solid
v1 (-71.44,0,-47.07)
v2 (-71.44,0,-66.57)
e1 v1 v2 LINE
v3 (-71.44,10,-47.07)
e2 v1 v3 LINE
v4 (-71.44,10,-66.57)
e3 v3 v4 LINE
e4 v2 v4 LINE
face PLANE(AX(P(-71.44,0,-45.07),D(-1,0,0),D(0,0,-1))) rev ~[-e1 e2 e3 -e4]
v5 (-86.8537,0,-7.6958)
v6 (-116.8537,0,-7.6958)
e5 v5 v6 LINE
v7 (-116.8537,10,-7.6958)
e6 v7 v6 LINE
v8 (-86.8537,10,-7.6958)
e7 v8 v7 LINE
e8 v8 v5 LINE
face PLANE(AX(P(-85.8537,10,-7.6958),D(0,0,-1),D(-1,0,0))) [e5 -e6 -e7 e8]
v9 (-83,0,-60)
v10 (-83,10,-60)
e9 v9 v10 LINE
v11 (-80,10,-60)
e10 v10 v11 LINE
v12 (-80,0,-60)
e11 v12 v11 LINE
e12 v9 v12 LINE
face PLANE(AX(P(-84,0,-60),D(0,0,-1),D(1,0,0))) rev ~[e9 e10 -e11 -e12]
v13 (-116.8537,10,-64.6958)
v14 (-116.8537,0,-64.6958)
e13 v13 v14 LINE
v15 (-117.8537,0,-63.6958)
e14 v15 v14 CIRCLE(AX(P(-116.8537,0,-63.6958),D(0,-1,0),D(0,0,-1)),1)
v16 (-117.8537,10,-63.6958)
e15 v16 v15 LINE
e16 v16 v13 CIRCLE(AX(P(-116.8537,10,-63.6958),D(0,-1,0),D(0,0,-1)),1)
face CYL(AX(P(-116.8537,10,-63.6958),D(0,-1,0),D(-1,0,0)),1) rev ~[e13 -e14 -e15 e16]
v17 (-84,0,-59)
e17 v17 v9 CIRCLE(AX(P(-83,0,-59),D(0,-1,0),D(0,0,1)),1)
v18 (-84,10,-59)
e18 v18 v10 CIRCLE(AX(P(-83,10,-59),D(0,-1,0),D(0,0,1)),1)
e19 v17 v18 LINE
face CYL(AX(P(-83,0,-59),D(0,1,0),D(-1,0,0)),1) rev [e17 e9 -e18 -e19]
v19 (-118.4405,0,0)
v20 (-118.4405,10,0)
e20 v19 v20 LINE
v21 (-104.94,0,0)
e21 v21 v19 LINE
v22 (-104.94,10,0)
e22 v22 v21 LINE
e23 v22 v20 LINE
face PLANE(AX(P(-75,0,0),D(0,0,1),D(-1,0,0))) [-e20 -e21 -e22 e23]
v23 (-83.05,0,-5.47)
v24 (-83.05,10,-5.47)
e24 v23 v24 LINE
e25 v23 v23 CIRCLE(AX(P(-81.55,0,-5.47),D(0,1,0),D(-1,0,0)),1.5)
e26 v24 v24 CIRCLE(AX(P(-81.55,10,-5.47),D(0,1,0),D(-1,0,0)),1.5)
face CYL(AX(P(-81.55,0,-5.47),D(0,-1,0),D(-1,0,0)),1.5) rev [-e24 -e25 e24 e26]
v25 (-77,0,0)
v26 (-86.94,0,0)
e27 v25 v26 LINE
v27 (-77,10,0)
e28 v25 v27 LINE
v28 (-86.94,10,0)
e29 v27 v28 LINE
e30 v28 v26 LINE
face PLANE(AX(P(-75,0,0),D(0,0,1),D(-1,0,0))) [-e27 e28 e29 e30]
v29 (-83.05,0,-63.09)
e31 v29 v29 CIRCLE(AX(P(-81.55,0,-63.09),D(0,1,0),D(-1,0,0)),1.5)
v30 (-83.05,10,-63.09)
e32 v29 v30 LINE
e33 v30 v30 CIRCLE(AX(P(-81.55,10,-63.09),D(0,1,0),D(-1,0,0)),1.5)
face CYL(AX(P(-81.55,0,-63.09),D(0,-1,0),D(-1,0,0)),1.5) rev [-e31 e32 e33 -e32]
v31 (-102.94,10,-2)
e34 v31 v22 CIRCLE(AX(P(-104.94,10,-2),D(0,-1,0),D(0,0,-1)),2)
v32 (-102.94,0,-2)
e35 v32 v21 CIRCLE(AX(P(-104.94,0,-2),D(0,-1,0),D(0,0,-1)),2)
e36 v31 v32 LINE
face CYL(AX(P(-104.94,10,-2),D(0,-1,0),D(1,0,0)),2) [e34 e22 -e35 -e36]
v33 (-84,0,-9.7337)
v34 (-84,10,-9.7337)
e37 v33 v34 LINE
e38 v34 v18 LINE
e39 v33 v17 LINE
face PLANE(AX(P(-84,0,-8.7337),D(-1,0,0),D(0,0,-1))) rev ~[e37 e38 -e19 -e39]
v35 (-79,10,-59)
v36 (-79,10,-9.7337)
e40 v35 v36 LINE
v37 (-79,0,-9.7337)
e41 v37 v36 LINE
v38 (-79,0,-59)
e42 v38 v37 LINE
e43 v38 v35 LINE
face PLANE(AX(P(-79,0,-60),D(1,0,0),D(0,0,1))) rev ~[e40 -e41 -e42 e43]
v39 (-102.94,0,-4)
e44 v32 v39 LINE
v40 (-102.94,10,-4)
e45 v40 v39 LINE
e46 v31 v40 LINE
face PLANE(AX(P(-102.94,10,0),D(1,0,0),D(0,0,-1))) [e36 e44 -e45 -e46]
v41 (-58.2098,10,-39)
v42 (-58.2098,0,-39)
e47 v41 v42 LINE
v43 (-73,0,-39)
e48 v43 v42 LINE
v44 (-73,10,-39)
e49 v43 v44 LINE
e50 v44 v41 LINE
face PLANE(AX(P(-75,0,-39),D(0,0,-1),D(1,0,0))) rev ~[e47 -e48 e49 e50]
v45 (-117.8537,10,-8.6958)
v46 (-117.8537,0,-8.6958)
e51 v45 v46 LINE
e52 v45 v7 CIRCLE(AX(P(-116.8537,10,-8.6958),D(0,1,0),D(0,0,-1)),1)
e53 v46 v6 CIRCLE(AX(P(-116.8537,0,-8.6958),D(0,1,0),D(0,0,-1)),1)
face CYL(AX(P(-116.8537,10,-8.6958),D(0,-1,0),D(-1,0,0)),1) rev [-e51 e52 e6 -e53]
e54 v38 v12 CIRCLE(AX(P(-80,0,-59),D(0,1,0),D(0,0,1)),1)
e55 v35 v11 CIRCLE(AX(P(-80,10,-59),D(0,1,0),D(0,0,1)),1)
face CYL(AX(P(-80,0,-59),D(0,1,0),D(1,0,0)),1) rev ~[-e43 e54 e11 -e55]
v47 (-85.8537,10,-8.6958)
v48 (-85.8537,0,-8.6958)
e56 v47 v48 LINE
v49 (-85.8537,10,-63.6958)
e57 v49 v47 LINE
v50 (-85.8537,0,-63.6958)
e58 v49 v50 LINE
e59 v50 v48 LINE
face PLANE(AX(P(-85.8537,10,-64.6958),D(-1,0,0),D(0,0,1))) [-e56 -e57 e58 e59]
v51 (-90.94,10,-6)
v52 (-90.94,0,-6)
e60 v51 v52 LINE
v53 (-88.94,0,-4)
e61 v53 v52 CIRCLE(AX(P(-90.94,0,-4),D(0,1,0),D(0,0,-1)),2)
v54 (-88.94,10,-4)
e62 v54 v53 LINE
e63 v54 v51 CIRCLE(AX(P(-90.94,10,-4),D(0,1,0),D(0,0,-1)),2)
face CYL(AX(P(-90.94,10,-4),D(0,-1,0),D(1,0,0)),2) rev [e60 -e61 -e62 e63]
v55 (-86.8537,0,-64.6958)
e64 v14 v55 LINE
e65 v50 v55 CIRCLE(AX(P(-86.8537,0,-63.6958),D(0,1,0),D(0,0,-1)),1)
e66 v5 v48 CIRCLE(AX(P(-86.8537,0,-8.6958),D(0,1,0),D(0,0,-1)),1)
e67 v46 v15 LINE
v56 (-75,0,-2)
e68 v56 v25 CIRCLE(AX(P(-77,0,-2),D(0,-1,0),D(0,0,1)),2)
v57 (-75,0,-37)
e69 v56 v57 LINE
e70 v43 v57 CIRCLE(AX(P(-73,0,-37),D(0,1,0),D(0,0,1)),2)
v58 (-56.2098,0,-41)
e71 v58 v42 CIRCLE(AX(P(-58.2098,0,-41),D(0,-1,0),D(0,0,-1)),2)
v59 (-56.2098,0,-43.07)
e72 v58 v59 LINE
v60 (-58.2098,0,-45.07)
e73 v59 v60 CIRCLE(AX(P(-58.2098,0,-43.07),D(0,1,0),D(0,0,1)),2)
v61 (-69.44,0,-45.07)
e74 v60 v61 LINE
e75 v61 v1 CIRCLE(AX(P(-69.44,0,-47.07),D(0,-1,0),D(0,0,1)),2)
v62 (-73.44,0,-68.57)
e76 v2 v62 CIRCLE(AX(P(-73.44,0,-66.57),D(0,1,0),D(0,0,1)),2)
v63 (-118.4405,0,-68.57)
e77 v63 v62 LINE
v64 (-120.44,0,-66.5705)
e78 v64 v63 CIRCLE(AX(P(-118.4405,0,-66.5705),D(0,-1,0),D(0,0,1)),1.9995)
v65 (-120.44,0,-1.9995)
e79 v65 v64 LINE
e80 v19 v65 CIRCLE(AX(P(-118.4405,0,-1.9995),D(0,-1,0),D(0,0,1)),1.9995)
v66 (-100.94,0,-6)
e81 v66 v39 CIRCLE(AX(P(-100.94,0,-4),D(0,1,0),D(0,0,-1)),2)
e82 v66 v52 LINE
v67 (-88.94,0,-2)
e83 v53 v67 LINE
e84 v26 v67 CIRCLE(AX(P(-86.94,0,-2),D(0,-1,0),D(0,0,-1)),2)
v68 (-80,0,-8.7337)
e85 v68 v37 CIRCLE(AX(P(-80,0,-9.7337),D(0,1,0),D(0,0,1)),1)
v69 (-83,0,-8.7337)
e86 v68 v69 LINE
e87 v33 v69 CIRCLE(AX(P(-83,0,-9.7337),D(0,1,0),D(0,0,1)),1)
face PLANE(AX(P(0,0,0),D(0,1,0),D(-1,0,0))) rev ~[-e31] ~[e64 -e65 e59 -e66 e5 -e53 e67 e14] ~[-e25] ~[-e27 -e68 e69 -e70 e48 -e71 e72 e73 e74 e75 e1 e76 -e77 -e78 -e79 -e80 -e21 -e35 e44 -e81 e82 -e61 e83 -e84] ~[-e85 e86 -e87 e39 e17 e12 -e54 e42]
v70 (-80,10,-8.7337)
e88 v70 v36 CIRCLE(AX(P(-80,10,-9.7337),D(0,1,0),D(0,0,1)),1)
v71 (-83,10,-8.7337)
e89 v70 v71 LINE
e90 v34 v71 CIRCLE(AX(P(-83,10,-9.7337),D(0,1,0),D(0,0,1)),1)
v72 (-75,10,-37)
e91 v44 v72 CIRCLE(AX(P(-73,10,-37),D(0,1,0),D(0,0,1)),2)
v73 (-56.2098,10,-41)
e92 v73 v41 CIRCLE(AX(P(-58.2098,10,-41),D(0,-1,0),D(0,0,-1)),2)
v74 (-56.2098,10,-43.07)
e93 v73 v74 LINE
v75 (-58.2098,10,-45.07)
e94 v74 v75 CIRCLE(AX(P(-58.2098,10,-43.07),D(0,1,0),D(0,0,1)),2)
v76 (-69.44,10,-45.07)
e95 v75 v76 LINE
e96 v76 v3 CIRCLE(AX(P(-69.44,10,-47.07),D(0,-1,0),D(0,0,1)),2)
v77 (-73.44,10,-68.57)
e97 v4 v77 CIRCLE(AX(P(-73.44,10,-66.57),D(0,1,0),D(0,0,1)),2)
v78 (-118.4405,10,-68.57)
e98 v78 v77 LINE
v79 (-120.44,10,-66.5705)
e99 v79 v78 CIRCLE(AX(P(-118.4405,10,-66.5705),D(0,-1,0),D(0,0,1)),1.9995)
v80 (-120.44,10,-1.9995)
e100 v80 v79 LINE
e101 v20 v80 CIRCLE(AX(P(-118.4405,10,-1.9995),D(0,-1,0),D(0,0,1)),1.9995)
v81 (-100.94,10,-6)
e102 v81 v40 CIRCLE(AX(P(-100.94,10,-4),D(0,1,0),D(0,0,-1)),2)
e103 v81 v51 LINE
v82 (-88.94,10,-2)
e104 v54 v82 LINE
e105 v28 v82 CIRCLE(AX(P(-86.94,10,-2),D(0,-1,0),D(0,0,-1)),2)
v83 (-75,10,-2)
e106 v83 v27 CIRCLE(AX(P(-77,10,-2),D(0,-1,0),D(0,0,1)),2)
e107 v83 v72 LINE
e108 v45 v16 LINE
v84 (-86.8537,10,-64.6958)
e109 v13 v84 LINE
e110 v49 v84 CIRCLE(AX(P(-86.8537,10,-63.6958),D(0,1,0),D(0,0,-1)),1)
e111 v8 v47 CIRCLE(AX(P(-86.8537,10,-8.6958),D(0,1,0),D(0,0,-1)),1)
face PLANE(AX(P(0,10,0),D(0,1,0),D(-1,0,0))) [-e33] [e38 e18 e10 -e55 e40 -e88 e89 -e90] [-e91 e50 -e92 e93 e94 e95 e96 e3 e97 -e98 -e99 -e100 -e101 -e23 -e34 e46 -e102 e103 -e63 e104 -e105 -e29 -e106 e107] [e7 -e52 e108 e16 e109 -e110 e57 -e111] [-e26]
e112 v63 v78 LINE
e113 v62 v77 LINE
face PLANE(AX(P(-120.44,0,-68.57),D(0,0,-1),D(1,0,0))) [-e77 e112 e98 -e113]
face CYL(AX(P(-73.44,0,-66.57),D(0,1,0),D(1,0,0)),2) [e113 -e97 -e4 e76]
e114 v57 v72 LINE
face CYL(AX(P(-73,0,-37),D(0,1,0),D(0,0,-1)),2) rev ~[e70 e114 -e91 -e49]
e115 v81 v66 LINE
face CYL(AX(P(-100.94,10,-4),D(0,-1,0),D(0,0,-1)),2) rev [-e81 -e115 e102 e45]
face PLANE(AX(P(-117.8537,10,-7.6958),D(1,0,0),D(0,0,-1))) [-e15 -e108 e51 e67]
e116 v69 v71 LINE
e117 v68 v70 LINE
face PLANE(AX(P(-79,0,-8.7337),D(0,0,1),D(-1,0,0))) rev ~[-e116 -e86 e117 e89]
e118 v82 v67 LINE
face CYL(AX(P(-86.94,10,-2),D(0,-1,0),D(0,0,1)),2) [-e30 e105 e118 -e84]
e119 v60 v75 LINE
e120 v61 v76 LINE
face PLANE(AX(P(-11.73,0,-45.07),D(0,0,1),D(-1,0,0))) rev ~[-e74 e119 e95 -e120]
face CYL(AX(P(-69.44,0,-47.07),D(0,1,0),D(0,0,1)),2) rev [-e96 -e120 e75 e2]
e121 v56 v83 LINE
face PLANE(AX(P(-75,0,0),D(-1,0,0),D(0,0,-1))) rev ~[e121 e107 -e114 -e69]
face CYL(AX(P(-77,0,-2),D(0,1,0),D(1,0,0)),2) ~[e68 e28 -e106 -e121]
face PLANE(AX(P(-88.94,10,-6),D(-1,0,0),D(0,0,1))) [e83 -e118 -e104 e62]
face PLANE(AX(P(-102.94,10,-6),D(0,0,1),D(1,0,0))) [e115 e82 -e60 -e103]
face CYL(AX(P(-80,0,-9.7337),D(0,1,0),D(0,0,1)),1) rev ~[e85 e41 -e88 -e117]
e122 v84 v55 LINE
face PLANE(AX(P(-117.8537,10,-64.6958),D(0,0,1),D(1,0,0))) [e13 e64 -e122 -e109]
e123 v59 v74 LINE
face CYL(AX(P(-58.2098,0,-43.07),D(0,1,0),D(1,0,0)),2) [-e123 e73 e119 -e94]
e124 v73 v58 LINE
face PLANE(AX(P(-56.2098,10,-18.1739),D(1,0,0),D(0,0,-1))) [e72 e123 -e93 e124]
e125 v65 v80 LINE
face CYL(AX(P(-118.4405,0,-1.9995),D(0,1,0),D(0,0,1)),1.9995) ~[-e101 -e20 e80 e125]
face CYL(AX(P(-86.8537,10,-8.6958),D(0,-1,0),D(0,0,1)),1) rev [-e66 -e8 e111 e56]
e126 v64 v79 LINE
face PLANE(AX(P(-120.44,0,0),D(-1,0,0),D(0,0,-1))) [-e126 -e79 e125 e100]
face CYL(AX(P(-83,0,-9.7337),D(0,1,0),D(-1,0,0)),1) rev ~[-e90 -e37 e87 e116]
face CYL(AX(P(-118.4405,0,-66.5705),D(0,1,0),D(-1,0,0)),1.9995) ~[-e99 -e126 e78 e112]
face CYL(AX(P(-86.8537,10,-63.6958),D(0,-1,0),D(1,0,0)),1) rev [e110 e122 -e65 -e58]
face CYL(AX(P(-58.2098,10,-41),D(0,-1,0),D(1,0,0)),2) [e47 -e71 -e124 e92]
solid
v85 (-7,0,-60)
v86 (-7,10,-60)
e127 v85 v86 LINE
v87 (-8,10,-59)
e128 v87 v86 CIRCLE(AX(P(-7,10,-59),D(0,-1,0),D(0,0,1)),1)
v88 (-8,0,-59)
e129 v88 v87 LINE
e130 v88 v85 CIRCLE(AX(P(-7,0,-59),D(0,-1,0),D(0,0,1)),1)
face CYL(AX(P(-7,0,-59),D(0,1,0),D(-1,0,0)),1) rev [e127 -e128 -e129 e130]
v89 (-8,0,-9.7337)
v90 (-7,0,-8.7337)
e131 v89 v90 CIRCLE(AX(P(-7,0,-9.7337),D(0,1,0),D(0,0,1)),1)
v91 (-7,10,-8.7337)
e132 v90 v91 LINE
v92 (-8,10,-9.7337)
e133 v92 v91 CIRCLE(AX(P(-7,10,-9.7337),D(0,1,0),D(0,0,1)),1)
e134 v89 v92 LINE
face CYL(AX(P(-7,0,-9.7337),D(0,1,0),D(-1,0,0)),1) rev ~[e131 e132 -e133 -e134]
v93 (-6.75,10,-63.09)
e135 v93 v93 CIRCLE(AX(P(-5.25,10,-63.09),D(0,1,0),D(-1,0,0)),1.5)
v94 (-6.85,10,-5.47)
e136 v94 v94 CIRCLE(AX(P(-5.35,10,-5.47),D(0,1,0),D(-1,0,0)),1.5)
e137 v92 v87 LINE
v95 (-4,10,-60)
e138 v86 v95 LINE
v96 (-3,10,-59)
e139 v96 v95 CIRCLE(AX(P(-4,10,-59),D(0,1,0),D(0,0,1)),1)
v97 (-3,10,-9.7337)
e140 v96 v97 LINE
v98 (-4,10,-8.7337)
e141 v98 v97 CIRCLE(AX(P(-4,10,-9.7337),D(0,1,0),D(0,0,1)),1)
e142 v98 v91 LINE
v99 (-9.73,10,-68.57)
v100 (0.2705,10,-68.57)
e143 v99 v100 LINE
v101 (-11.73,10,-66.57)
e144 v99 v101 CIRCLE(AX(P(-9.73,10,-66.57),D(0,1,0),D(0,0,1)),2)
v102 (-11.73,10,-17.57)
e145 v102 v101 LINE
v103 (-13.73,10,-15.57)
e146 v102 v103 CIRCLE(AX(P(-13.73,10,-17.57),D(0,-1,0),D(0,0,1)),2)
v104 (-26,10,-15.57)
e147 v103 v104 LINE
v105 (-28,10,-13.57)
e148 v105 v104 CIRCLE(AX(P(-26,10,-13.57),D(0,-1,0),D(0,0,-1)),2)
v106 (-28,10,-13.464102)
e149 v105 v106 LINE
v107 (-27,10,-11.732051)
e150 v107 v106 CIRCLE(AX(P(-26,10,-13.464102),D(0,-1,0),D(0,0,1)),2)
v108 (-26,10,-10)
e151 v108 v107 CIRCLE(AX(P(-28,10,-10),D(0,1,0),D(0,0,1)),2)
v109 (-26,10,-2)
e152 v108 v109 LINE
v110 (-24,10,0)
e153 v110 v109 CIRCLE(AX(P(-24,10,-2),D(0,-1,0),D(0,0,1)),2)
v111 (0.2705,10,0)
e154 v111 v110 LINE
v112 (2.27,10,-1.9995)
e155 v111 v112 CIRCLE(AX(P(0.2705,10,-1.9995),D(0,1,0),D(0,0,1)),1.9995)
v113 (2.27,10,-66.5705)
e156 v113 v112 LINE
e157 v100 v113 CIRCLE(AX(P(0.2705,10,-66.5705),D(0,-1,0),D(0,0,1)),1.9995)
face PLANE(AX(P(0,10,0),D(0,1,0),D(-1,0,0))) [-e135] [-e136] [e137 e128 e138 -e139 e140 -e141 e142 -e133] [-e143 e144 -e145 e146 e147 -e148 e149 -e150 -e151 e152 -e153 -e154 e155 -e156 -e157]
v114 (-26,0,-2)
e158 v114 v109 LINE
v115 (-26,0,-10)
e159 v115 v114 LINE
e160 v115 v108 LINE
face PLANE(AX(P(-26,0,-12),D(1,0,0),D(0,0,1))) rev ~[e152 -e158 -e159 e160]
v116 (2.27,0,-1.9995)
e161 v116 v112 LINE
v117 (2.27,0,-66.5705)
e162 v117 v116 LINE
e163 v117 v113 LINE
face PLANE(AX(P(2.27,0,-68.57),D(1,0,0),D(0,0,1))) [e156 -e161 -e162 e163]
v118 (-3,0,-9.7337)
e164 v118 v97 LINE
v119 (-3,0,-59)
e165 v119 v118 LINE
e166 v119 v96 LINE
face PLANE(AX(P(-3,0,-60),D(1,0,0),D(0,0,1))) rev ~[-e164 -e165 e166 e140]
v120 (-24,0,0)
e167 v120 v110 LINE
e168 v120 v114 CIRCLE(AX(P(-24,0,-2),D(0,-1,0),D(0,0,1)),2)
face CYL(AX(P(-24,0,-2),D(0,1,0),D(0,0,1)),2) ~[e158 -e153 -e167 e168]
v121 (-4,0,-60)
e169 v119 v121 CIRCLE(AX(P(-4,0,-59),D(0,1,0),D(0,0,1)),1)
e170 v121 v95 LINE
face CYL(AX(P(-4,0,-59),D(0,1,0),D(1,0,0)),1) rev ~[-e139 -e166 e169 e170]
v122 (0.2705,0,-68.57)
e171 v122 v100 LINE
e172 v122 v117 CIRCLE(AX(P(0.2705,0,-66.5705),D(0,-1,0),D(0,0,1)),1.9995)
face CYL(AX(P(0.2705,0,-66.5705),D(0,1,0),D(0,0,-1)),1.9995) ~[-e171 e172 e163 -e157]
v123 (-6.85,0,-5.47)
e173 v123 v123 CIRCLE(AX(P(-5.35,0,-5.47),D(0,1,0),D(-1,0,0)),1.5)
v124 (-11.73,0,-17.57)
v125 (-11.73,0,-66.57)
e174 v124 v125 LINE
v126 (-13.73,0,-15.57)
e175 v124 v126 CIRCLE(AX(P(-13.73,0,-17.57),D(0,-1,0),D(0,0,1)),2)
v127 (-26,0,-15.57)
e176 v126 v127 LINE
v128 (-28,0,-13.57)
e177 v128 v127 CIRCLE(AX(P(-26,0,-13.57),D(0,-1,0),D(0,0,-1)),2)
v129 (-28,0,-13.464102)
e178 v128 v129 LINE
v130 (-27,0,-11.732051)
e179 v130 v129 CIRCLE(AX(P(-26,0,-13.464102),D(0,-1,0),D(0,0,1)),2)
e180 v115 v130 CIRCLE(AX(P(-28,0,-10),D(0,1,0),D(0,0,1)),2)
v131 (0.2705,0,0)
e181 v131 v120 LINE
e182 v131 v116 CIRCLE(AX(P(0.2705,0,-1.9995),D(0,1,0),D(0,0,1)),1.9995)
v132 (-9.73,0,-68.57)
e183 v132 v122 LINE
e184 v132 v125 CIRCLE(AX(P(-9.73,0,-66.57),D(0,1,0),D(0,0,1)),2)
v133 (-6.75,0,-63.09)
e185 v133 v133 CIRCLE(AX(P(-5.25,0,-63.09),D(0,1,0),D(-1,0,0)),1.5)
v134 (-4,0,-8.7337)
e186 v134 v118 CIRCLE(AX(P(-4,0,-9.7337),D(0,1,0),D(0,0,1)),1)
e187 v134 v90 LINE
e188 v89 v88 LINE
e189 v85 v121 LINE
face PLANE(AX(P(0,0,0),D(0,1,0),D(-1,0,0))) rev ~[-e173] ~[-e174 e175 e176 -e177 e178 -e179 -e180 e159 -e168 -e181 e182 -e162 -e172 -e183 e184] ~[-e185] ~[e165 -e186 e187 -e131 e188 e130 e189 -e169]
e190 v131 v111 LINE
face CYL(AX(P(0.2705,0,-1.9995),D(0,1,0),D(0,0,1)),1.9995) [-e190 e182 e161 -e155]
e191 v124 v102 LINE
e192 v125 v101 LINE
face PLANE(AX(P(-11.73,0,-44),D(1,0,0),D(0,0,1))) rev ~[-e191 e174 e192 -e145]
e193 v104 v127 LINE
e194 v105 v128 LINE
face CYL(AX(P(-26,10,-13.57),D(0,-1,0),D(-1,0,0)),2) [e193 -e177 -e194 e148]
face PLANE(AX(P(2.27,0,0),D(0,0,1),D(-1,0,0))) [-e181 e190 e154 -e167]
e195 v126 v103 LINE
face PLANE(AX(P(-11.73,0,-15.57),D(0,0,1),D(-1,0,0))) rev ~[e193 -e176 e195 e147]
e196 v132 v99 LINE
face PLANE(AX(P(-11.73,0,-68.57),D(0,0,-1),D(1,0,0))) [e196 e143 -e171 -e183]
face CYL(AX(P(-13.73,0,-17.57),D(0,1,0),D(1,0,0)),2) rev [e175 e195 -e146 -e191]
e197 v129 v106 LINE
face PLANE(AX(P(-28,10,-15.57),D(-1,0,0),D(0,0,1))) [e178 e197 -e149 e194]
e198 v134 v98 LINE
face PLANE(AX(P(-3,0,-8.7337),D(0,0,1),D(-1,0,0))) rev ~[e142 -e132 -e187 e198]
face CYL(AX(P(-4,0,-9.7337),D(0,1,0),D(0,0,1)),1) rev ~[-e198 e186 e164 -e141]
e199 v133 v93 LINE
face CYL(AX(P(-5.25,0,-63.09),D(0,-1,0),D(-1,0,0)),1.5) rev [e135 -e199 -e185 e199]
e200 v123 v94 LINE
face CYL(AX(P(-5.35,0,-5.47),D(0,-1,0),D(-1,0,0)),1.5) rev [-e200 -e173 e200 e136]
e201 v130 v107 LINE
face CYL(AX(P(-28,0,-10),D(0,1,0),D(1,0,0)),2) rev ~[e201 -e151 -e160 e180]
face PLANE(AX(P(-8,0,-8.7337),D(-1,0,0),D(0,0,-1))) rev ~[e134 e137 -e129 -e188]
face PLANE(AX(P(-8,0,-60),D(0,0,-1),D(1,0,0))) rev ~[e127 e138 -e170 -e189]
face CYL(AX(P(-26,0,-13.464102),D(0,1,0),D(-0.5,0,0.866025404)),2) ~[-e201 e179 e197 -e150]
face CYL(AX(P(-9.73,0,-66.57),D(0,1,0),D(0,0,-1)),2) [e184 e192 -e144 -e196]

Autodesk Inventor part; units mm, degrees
ref_plane "YZ Plane" through (0, 0, 0) normal (1, 0, 0) x (0, 1, 0)
ref_plane "XZ Plane" through (0, 0, 0) normal (0, 1, 0) x (-1, 0, 0)
ref_plane "XY Plane" through (0, 0, 0) normal (0, 0, 1) x (1, 0, 0)
sketch "Sketch1" plane through (0, 0, 0) normal (0, 1, 0) x (-1, 0, 0)
  line L0 (-2.27, 0) -> (120.44, 0)
  line L1 (120.44, 0) -> (120.44, -68.57)
  line L2 (120.44, -68.57) -> (-2.27, -68.57)
  line L3 (-2.27, -68.57) -> (-2.27, 0)
  line L4 (120.44, -66.57) -> (120.44, -2)
  line L5 (0, -68.57) -> (118.44, -68.57)
  line L6 (-2.27, -2.27) -> (-2.27, -66.3)
  circle A0 centre (81.55, -63.09) radius 1.5
  circle A1 centre (81.55, -63.09) radius 1.5
  line L7 (71.44, -68.57) -> (11.73, -68.57)
  line L8 (11.73, -68.57) -> (11.73, -45.07)
  line L9 (11.73, -45.07) -> (71.44, -45.07)
  line L10 (71.44, -45.07) -> (71.44, -68.57)
  line L11 (75, -39) -> (51, -39)
  line L12 (51, -39) -> (51, 0)
  line L13 (51, 0) -> (75, 0)
  line L14 (75, 0) -> (75, -39)
  line L15 (51, -12) -> (26, -12)
  line L16 (26, -12) -> (26, 0)
  line L17 (26, 0) -> (51, 0)
  line L18 (51, 0) -> (51, -12)
  line L19 (11.73, -15.57) -> (42, -15.57)
  line L20 (84, -60) -> (79, -60)
  line L21 (79, -60) -> (79, -8.7337)
  line L22 (79, -8.7337) -> (84, -8.7337)
  line L23 (84, -8.7337) -> (84, -60)
  line L24 (8, -60) -> (3, -60)
  line L25 (3, -60) -> (3, -8.7337)
  line L26 (3, -8.7337) -> (8, -8.7337)
  line L27 (8, -8.7337) -> (8, -60)
  circle A2 centre (5.25, -63.09) radius 1.5
  circle A3 centre (5.35, -5.47) radius 1.5
  circle A4 centre (81.55, -5.47) radius 1.5
  circle A5 centre (81.55, -5.47) radius 1.5
  circle A6 centre (5.35, -5.47) radius 1.5
  circle A7 centre (5.25, -63.09) radius 1.5
  line L28 (42, -15.57) -> (42, -44)
  line L29 (42, -44) -> (11.73, -44)
  line L30 (11.73, -44) -> (11.73, -15.57)
  dimension "d20" = 3
  dimension "d21" = 14
  dimension "d22" = 49
  dimension "d23" = 12
  dimension "d24" = 30.27
  dimension "d25" = 24
  dimension "d26" = 39
  dimension "d27" = 3
  dimension "d28" = 3
  dimension "d29" = 3
  dimension "d30" = 68.57
  dimension "d31" = 23.5
  dimension "d32" = 28.43
  dimension "d33" = 30.27
  dimension "d72" = 122.71
extrude "Extrusion1" add sketch "Sketch1" along normal blind 10 contours L0 L16 L15 L12 L11 L14 L1 L2 L10 L9 L8 L3
fillet "Fillet4" radius 2 4 edges at (-120.44, 5, -68.57) (-120.44, 5, 0) (2.27, 5, -68.57) (2.27, 5, 0)
fillet "Fillet5" radius 2 14 edges at (-71.44, 5, -68.57) (-71.44, 5, -45.07) (-11.73, 5, -68.57) (-11.73, 5, -45.07) (-11.73, 5, -44) (-11.73, 5, -15.57) (-42, 5, -15.57) (-42, 5, -44) (-26, 5, -12) (-51, 5, -12) (-26, 5, 0) (-51, 5, -39) (-75, 5, -39) (-75, 5, 0)
fillet "Fillet6" radius 1 8 edges at (-8, 5, -8.7337) (-3, 5, -8.7337) (-3, 5, -60) (-8, 5, -60) (-79, 5, -8.7337) (-84, 5, -8.7337) (-84, 5, -60) (-79, 5, -60)
sketch "Sketch2" plane through (0, 10, 0) normal (0, 1, 0) x (1, 0, 0)
  line L0 (-25.1876, 48.0097) -> (-22.3279, 48.0097) construction
  line L1 (-22.3279, 48.0097) -> (-22.3279, 44.9597) construction
  line L2 (-22.3279, 44.9597) -> (-25.1876, 44.9597) construction
  line L3 (-25.1876, 44.9597) -> (-25.1876, 48.0097) construction
  line L4 (-62.9206, 48.3158) -> (-61.8687, 48.3158) construction
  line L5 (-61.8687, 48.3158) -> (-61.8687, 45.2658) construction
  line L6 (-61.8687, 45.2658) -> (-62.9206, 45.2658) construction
  line L7 (-62.9206, 45.2658) -> (-62.9206, 48.3158) construction
  line L8 (-43.4013, 48.199) -> (-40.5416, 48.199) construction
  line L9 (-40.5416, 48.199) -> (-40.5416, 45.149) construction
  line L10 (-40.5416, 45.149) -> (-43.4013, 45.149) construction
  line L11 (-43.4013, 45.149) -> (-43.4013, 48.199) construction
  point P0 (0, 0)
emboss "Emboss1" [suppressed]
sketch "Sketch3" plane through (0, 10, 0) normal (0, 1, 0) x (1, 0, 0)
  line L0 (-118.44, 0) -> (-77, 0) projected
  line L1 (-88.94, 0) -> (-102.94, 0)
  line L2 (-102.94, 0) -> (-102.94, 6)
  line L3 (-102.94, 6) -> (-88.94, 6)
  line L4 (-88.94, 6) -> (-88.94, 0)
  line L5 (-120.44, 66.57) -> (-120.44, 2) projected
  point P0 (0, 0)
  point P1 (-102.94, 0)
  dimension "d39" = 17.5
  dimension "d40" = 6
  dimension "d43" = 14
extrude "Extrusion2" cut sketch "Sketch3" against normal blind 10
fillet "Fillet7" radius 2 4 edges at (-88.94, 5, 0) (-88.94, 5, -6) (-102.94, 5, -6) (-102.94, 5, 0)
sketch "Sketch4" plane through (0, 10, 0) normal (0, 1, 0) x (1, 0, 0)
  circle A0 centre (-91.14, 23.07) radius 1.25
  circle A1 centre (-91.14, 50.07) radius 1.25
  circle A2 centre (-113.14, 36.57) radius 1.25
  line L0 (-73.44, 68.57) -> (-118.44, 68.57) projected
  line L1 (-120.44, 66.57) -> (-120.44, 2) projected
  point P0 (0, 0)
  dimension "d45" = 27
  dimension "d46" = 22
  dimension "d47" = 2.5
  dimension "d48" = 2.5
  dimension "d49" = 2.5
  dimension "d50" = 22
  dimension "d51" = 13.5
  dimension "d52" = 18.5
  dimension "d53" = 7.3
extrude "Extrusion3" cut sketch "Sketch4" against normal blind 10
sketch "Sketch5" plane through (0, 10, 0) normal (0, 1, 0) x (1, 0, 0)
  circle A0 centre (-113.14, 36.57) radius 1.25 projected
  line L0 (-115.4494, 36.57) -> (-114.2947, 38.57)
  line L1 (-114.2947, 38.57) -> (-111.9853, 38.57)
  line L2 (-111.9853, 38.57) -> (-110.8306, 36.57)
  line L3 (-110.8306, 36.57) -> (-111.9853, 34.57)
  line L4 (-111.9853, 34.57) -> (-114.2947, 34.57)
  line L5 (-114.2947, 34.57) -> (-115.4494, 36.57)
  circle A1 centre (-91.14, 23.07) radius 1.25 projected
  line L6 (-93.4494, 23.07) -> (-92.2947, 25.07)
  line L7 (-92.2947, 25.07) -> (-89.9853, 25.07)
  line L8 (-89.9853, 25.07) -> (-88.8306, 23.07)
  line L9 (-88.8306, 23.07) -> (-89.9853, 21.07)
  line L10 (-89.9853, 21.07) -> (-92.2947, 21.07)
  line L11 (-92.2947, 21.07) -> (-93.4494, 23.07)
  circle A2 centre (-91.14, 50.07) radius 1.25 projected
  line L12 (-93.4494, 50.07) -> (-92.2947, 52.07)
  line L13 (-92.2947, 52.07) -> (-89.9853, 52.07)
  line L14 (-89.9853, 52.07) -> (-88.8306, 50.07)
  line L15 (-88.8306, 50.07) -> (-89.9853, 48.07)
  line L16 (-89.9853, 48.07) -> (-92.2947, 48.07)
  line L17 (-92.2947, 48.07) -> (-93.4494, 50.07)
  point P0 (0, 0)
  dimension "d56" = 4
  dimension "d57" = 4
  dimension "d58" = 4
extrude "Extrusion4" cut sketch "Sketch5" against normal blind 10
sketch "Sketch6" plane through (0, 10, 0) normal (0, 1, 0) x (1, 0, 0)
  circle A0 centre (-5.35, 5.47) radius 1.5 projected
  line L0 (-7.9481, 5.47) -> (-6.649, 7.72)
  line L1 (-6.649, 7.72) -> (-4.051, 7.72)
  line L2 (-4.051, 7.72) -> (-2.7519, 5.47)
  line L3 (-2.7519, 5.47) -> (-4.051, 3.22)
  line L4 (-4.051, 3.22) -> (-6.649, 3.22)
  line L5 (-6.649, 3.22) -> (-7.9481, 5.47)
  circle A1 centre (-5.25, 63.09) radius 1.5 projected
  line L6 (-7.8481, 63.09) -> (-6.549, 65.34)
  line L7 (-6.549, 65.34) -> (-3.951, 65.34)
  line L8 (-3.951, 65.34) -> (-2.6519, 63.09)
  line L9 (-2.6519, 63.09) -> (-3.951, 60.84)
  line L10 (-3.951, 60.84) -> (-6.549, 60.84)
  line L11 (-6.549, 60.84) -> (-7.8481, 63.09)
  circle A2 centre (-81.55, 63.09) radius 1.5 projected
  line L12 (-84.1481, 63.09) -> (-82.849, 65.34)
  line L13 (-82.849, 65.34) -> (-80.251, 65.34)
  line L14 (-80.251, 65.34) -> (-78.9519, 63.09)
  line L15 (-78.9519, 63.09) -> (-80.251, 60.84)
  line L16 (-80.251, 60.84) -> (-82.849, 60.84)
  line L17 (-82.849, 60.84) -> (-84.1481, 63.09)
  circle A3 centre (-81.55, 5.47) radius 1.5 projected
  line L18 (-82.849, 7.72) -> (-80.251, 7.72)
  line L19 (-80.251, 7.72) -> (-78.9519, 5.47)
  line L20 (-78.9519, 5.47) -> (-80.251, 3.22)
  line L21 (-80.251, 3.22) -> (-82.849, 3.22)
  line L22 (-82.849, 3.22) -> (-84.1481, 5.47)
  line L23 (-84.1481, 5.47) -> (-82.849, 7.72)
  line L24 (-86.94, 0) -> (-77, 0) projected
  point P0 (0, 0)
  dimension "d61" = 4.5
  dimension "d62" = 4.5
  dimension "d63" = 4.5
  dimension "d64" = 4.5
extrude "Extrusion5" [suppressed]
sketch "Sketch7" plane through (0, 10, 0) normal (0, 1, 0) x (1, 0, 0)
  line L0 (-117.8537, 64.6958) -> (-85.8537, 64.6958)
  line L1 (-85.8537, 64.6958) -> (-85.8537, 7.6958)
  line L2 (-85.8537, 7.6958) -> (-117.8537, 7.6958)
  line L3 (-117.8537, 7.6958) -> (-117.8537, 64.6958)
  point P0 (0, 0)
  dimension "d67" = 57
  dimension "d68" = 32
extrude "Extrusion6" cut sketch "Sketch7" against normal blind 10
fillet "Fillet8" radius 1 4 edges at (-117.8537, 5, -64.6958) (-85.8537, 5, -64.6958) (-85.8537, 5, -7.6958) (-117.8537, 5, -7.6958)
sketch "Sketch8" plane through (0, 10, 0) normal (0, 1, 0) x (1, 0, 0)
  arc A0 (-42, 17.57) -> (-40, 15.57) centre (-40, 17.57) ccw projected
  line L0 (-28, 12) -> (-40, 12)
  line L1 (-40, 12) -> (-40, 15.57)
  line L2 (-40, 15.57) -> (-28, 15.57)
  line L3 (-28, 15.57) -> (-28, 12)
  point P0 (0, 0)
extrude "Extrusion7" cut sketch "Sketch8" against normal blind 10
fillet "Fillet9" radius 2 4 edges at (-28, 5, -15.57) (-28, 5, -12) (-40, 5, -12) (-40, 5, -15.57)
sketch "Sketch9" plane through (0, 10, 0) normal (0, 1, 0) x (1, 0, 0)
  line L0 (-11.73, 42) -> (-11.73, 17.57) projected
  line L1 (-11.73, 18.1739) -> (-56.2098, 18.1739)
  line L2 (-56.2098, 18.1739) -> (-56.2098, 49.7949)
  line L3 (-56.2098, 49.7949) -> (-11.73, 49.7949)
  line L4 (-11.73, 49.7949) -> (-11.73, 18.1739)
  point P0 (0, 0)
extrude "Extrusion8" cut sketch "Sketch9" against normal blind 10
fillet "Fillet10" radius 2 2 edges at (-42, 5, -18.1739) (-56.2098, 5, -45.07)
sketch "Sketch10" plane through (0, 10, 0) normal (0, 1, 0) x (1, 0, 0)
  line L0 (-33, 5) -> (-66, 5)
  line L1 (-66, 5) -> (-66, 23)
  line L2 (-66, 23) -> (-33, 23)
  line L3 (-33, 23) -> (-33, 5)
  point P0 (0, 0)
extrude "Extrusion9" cut sketch "Sketch10" against normal blind 10
fillet "Fillet12" radius 2 1 edges at (-56.2098, 5, -39)
properties part number "Bottom PMMA"
